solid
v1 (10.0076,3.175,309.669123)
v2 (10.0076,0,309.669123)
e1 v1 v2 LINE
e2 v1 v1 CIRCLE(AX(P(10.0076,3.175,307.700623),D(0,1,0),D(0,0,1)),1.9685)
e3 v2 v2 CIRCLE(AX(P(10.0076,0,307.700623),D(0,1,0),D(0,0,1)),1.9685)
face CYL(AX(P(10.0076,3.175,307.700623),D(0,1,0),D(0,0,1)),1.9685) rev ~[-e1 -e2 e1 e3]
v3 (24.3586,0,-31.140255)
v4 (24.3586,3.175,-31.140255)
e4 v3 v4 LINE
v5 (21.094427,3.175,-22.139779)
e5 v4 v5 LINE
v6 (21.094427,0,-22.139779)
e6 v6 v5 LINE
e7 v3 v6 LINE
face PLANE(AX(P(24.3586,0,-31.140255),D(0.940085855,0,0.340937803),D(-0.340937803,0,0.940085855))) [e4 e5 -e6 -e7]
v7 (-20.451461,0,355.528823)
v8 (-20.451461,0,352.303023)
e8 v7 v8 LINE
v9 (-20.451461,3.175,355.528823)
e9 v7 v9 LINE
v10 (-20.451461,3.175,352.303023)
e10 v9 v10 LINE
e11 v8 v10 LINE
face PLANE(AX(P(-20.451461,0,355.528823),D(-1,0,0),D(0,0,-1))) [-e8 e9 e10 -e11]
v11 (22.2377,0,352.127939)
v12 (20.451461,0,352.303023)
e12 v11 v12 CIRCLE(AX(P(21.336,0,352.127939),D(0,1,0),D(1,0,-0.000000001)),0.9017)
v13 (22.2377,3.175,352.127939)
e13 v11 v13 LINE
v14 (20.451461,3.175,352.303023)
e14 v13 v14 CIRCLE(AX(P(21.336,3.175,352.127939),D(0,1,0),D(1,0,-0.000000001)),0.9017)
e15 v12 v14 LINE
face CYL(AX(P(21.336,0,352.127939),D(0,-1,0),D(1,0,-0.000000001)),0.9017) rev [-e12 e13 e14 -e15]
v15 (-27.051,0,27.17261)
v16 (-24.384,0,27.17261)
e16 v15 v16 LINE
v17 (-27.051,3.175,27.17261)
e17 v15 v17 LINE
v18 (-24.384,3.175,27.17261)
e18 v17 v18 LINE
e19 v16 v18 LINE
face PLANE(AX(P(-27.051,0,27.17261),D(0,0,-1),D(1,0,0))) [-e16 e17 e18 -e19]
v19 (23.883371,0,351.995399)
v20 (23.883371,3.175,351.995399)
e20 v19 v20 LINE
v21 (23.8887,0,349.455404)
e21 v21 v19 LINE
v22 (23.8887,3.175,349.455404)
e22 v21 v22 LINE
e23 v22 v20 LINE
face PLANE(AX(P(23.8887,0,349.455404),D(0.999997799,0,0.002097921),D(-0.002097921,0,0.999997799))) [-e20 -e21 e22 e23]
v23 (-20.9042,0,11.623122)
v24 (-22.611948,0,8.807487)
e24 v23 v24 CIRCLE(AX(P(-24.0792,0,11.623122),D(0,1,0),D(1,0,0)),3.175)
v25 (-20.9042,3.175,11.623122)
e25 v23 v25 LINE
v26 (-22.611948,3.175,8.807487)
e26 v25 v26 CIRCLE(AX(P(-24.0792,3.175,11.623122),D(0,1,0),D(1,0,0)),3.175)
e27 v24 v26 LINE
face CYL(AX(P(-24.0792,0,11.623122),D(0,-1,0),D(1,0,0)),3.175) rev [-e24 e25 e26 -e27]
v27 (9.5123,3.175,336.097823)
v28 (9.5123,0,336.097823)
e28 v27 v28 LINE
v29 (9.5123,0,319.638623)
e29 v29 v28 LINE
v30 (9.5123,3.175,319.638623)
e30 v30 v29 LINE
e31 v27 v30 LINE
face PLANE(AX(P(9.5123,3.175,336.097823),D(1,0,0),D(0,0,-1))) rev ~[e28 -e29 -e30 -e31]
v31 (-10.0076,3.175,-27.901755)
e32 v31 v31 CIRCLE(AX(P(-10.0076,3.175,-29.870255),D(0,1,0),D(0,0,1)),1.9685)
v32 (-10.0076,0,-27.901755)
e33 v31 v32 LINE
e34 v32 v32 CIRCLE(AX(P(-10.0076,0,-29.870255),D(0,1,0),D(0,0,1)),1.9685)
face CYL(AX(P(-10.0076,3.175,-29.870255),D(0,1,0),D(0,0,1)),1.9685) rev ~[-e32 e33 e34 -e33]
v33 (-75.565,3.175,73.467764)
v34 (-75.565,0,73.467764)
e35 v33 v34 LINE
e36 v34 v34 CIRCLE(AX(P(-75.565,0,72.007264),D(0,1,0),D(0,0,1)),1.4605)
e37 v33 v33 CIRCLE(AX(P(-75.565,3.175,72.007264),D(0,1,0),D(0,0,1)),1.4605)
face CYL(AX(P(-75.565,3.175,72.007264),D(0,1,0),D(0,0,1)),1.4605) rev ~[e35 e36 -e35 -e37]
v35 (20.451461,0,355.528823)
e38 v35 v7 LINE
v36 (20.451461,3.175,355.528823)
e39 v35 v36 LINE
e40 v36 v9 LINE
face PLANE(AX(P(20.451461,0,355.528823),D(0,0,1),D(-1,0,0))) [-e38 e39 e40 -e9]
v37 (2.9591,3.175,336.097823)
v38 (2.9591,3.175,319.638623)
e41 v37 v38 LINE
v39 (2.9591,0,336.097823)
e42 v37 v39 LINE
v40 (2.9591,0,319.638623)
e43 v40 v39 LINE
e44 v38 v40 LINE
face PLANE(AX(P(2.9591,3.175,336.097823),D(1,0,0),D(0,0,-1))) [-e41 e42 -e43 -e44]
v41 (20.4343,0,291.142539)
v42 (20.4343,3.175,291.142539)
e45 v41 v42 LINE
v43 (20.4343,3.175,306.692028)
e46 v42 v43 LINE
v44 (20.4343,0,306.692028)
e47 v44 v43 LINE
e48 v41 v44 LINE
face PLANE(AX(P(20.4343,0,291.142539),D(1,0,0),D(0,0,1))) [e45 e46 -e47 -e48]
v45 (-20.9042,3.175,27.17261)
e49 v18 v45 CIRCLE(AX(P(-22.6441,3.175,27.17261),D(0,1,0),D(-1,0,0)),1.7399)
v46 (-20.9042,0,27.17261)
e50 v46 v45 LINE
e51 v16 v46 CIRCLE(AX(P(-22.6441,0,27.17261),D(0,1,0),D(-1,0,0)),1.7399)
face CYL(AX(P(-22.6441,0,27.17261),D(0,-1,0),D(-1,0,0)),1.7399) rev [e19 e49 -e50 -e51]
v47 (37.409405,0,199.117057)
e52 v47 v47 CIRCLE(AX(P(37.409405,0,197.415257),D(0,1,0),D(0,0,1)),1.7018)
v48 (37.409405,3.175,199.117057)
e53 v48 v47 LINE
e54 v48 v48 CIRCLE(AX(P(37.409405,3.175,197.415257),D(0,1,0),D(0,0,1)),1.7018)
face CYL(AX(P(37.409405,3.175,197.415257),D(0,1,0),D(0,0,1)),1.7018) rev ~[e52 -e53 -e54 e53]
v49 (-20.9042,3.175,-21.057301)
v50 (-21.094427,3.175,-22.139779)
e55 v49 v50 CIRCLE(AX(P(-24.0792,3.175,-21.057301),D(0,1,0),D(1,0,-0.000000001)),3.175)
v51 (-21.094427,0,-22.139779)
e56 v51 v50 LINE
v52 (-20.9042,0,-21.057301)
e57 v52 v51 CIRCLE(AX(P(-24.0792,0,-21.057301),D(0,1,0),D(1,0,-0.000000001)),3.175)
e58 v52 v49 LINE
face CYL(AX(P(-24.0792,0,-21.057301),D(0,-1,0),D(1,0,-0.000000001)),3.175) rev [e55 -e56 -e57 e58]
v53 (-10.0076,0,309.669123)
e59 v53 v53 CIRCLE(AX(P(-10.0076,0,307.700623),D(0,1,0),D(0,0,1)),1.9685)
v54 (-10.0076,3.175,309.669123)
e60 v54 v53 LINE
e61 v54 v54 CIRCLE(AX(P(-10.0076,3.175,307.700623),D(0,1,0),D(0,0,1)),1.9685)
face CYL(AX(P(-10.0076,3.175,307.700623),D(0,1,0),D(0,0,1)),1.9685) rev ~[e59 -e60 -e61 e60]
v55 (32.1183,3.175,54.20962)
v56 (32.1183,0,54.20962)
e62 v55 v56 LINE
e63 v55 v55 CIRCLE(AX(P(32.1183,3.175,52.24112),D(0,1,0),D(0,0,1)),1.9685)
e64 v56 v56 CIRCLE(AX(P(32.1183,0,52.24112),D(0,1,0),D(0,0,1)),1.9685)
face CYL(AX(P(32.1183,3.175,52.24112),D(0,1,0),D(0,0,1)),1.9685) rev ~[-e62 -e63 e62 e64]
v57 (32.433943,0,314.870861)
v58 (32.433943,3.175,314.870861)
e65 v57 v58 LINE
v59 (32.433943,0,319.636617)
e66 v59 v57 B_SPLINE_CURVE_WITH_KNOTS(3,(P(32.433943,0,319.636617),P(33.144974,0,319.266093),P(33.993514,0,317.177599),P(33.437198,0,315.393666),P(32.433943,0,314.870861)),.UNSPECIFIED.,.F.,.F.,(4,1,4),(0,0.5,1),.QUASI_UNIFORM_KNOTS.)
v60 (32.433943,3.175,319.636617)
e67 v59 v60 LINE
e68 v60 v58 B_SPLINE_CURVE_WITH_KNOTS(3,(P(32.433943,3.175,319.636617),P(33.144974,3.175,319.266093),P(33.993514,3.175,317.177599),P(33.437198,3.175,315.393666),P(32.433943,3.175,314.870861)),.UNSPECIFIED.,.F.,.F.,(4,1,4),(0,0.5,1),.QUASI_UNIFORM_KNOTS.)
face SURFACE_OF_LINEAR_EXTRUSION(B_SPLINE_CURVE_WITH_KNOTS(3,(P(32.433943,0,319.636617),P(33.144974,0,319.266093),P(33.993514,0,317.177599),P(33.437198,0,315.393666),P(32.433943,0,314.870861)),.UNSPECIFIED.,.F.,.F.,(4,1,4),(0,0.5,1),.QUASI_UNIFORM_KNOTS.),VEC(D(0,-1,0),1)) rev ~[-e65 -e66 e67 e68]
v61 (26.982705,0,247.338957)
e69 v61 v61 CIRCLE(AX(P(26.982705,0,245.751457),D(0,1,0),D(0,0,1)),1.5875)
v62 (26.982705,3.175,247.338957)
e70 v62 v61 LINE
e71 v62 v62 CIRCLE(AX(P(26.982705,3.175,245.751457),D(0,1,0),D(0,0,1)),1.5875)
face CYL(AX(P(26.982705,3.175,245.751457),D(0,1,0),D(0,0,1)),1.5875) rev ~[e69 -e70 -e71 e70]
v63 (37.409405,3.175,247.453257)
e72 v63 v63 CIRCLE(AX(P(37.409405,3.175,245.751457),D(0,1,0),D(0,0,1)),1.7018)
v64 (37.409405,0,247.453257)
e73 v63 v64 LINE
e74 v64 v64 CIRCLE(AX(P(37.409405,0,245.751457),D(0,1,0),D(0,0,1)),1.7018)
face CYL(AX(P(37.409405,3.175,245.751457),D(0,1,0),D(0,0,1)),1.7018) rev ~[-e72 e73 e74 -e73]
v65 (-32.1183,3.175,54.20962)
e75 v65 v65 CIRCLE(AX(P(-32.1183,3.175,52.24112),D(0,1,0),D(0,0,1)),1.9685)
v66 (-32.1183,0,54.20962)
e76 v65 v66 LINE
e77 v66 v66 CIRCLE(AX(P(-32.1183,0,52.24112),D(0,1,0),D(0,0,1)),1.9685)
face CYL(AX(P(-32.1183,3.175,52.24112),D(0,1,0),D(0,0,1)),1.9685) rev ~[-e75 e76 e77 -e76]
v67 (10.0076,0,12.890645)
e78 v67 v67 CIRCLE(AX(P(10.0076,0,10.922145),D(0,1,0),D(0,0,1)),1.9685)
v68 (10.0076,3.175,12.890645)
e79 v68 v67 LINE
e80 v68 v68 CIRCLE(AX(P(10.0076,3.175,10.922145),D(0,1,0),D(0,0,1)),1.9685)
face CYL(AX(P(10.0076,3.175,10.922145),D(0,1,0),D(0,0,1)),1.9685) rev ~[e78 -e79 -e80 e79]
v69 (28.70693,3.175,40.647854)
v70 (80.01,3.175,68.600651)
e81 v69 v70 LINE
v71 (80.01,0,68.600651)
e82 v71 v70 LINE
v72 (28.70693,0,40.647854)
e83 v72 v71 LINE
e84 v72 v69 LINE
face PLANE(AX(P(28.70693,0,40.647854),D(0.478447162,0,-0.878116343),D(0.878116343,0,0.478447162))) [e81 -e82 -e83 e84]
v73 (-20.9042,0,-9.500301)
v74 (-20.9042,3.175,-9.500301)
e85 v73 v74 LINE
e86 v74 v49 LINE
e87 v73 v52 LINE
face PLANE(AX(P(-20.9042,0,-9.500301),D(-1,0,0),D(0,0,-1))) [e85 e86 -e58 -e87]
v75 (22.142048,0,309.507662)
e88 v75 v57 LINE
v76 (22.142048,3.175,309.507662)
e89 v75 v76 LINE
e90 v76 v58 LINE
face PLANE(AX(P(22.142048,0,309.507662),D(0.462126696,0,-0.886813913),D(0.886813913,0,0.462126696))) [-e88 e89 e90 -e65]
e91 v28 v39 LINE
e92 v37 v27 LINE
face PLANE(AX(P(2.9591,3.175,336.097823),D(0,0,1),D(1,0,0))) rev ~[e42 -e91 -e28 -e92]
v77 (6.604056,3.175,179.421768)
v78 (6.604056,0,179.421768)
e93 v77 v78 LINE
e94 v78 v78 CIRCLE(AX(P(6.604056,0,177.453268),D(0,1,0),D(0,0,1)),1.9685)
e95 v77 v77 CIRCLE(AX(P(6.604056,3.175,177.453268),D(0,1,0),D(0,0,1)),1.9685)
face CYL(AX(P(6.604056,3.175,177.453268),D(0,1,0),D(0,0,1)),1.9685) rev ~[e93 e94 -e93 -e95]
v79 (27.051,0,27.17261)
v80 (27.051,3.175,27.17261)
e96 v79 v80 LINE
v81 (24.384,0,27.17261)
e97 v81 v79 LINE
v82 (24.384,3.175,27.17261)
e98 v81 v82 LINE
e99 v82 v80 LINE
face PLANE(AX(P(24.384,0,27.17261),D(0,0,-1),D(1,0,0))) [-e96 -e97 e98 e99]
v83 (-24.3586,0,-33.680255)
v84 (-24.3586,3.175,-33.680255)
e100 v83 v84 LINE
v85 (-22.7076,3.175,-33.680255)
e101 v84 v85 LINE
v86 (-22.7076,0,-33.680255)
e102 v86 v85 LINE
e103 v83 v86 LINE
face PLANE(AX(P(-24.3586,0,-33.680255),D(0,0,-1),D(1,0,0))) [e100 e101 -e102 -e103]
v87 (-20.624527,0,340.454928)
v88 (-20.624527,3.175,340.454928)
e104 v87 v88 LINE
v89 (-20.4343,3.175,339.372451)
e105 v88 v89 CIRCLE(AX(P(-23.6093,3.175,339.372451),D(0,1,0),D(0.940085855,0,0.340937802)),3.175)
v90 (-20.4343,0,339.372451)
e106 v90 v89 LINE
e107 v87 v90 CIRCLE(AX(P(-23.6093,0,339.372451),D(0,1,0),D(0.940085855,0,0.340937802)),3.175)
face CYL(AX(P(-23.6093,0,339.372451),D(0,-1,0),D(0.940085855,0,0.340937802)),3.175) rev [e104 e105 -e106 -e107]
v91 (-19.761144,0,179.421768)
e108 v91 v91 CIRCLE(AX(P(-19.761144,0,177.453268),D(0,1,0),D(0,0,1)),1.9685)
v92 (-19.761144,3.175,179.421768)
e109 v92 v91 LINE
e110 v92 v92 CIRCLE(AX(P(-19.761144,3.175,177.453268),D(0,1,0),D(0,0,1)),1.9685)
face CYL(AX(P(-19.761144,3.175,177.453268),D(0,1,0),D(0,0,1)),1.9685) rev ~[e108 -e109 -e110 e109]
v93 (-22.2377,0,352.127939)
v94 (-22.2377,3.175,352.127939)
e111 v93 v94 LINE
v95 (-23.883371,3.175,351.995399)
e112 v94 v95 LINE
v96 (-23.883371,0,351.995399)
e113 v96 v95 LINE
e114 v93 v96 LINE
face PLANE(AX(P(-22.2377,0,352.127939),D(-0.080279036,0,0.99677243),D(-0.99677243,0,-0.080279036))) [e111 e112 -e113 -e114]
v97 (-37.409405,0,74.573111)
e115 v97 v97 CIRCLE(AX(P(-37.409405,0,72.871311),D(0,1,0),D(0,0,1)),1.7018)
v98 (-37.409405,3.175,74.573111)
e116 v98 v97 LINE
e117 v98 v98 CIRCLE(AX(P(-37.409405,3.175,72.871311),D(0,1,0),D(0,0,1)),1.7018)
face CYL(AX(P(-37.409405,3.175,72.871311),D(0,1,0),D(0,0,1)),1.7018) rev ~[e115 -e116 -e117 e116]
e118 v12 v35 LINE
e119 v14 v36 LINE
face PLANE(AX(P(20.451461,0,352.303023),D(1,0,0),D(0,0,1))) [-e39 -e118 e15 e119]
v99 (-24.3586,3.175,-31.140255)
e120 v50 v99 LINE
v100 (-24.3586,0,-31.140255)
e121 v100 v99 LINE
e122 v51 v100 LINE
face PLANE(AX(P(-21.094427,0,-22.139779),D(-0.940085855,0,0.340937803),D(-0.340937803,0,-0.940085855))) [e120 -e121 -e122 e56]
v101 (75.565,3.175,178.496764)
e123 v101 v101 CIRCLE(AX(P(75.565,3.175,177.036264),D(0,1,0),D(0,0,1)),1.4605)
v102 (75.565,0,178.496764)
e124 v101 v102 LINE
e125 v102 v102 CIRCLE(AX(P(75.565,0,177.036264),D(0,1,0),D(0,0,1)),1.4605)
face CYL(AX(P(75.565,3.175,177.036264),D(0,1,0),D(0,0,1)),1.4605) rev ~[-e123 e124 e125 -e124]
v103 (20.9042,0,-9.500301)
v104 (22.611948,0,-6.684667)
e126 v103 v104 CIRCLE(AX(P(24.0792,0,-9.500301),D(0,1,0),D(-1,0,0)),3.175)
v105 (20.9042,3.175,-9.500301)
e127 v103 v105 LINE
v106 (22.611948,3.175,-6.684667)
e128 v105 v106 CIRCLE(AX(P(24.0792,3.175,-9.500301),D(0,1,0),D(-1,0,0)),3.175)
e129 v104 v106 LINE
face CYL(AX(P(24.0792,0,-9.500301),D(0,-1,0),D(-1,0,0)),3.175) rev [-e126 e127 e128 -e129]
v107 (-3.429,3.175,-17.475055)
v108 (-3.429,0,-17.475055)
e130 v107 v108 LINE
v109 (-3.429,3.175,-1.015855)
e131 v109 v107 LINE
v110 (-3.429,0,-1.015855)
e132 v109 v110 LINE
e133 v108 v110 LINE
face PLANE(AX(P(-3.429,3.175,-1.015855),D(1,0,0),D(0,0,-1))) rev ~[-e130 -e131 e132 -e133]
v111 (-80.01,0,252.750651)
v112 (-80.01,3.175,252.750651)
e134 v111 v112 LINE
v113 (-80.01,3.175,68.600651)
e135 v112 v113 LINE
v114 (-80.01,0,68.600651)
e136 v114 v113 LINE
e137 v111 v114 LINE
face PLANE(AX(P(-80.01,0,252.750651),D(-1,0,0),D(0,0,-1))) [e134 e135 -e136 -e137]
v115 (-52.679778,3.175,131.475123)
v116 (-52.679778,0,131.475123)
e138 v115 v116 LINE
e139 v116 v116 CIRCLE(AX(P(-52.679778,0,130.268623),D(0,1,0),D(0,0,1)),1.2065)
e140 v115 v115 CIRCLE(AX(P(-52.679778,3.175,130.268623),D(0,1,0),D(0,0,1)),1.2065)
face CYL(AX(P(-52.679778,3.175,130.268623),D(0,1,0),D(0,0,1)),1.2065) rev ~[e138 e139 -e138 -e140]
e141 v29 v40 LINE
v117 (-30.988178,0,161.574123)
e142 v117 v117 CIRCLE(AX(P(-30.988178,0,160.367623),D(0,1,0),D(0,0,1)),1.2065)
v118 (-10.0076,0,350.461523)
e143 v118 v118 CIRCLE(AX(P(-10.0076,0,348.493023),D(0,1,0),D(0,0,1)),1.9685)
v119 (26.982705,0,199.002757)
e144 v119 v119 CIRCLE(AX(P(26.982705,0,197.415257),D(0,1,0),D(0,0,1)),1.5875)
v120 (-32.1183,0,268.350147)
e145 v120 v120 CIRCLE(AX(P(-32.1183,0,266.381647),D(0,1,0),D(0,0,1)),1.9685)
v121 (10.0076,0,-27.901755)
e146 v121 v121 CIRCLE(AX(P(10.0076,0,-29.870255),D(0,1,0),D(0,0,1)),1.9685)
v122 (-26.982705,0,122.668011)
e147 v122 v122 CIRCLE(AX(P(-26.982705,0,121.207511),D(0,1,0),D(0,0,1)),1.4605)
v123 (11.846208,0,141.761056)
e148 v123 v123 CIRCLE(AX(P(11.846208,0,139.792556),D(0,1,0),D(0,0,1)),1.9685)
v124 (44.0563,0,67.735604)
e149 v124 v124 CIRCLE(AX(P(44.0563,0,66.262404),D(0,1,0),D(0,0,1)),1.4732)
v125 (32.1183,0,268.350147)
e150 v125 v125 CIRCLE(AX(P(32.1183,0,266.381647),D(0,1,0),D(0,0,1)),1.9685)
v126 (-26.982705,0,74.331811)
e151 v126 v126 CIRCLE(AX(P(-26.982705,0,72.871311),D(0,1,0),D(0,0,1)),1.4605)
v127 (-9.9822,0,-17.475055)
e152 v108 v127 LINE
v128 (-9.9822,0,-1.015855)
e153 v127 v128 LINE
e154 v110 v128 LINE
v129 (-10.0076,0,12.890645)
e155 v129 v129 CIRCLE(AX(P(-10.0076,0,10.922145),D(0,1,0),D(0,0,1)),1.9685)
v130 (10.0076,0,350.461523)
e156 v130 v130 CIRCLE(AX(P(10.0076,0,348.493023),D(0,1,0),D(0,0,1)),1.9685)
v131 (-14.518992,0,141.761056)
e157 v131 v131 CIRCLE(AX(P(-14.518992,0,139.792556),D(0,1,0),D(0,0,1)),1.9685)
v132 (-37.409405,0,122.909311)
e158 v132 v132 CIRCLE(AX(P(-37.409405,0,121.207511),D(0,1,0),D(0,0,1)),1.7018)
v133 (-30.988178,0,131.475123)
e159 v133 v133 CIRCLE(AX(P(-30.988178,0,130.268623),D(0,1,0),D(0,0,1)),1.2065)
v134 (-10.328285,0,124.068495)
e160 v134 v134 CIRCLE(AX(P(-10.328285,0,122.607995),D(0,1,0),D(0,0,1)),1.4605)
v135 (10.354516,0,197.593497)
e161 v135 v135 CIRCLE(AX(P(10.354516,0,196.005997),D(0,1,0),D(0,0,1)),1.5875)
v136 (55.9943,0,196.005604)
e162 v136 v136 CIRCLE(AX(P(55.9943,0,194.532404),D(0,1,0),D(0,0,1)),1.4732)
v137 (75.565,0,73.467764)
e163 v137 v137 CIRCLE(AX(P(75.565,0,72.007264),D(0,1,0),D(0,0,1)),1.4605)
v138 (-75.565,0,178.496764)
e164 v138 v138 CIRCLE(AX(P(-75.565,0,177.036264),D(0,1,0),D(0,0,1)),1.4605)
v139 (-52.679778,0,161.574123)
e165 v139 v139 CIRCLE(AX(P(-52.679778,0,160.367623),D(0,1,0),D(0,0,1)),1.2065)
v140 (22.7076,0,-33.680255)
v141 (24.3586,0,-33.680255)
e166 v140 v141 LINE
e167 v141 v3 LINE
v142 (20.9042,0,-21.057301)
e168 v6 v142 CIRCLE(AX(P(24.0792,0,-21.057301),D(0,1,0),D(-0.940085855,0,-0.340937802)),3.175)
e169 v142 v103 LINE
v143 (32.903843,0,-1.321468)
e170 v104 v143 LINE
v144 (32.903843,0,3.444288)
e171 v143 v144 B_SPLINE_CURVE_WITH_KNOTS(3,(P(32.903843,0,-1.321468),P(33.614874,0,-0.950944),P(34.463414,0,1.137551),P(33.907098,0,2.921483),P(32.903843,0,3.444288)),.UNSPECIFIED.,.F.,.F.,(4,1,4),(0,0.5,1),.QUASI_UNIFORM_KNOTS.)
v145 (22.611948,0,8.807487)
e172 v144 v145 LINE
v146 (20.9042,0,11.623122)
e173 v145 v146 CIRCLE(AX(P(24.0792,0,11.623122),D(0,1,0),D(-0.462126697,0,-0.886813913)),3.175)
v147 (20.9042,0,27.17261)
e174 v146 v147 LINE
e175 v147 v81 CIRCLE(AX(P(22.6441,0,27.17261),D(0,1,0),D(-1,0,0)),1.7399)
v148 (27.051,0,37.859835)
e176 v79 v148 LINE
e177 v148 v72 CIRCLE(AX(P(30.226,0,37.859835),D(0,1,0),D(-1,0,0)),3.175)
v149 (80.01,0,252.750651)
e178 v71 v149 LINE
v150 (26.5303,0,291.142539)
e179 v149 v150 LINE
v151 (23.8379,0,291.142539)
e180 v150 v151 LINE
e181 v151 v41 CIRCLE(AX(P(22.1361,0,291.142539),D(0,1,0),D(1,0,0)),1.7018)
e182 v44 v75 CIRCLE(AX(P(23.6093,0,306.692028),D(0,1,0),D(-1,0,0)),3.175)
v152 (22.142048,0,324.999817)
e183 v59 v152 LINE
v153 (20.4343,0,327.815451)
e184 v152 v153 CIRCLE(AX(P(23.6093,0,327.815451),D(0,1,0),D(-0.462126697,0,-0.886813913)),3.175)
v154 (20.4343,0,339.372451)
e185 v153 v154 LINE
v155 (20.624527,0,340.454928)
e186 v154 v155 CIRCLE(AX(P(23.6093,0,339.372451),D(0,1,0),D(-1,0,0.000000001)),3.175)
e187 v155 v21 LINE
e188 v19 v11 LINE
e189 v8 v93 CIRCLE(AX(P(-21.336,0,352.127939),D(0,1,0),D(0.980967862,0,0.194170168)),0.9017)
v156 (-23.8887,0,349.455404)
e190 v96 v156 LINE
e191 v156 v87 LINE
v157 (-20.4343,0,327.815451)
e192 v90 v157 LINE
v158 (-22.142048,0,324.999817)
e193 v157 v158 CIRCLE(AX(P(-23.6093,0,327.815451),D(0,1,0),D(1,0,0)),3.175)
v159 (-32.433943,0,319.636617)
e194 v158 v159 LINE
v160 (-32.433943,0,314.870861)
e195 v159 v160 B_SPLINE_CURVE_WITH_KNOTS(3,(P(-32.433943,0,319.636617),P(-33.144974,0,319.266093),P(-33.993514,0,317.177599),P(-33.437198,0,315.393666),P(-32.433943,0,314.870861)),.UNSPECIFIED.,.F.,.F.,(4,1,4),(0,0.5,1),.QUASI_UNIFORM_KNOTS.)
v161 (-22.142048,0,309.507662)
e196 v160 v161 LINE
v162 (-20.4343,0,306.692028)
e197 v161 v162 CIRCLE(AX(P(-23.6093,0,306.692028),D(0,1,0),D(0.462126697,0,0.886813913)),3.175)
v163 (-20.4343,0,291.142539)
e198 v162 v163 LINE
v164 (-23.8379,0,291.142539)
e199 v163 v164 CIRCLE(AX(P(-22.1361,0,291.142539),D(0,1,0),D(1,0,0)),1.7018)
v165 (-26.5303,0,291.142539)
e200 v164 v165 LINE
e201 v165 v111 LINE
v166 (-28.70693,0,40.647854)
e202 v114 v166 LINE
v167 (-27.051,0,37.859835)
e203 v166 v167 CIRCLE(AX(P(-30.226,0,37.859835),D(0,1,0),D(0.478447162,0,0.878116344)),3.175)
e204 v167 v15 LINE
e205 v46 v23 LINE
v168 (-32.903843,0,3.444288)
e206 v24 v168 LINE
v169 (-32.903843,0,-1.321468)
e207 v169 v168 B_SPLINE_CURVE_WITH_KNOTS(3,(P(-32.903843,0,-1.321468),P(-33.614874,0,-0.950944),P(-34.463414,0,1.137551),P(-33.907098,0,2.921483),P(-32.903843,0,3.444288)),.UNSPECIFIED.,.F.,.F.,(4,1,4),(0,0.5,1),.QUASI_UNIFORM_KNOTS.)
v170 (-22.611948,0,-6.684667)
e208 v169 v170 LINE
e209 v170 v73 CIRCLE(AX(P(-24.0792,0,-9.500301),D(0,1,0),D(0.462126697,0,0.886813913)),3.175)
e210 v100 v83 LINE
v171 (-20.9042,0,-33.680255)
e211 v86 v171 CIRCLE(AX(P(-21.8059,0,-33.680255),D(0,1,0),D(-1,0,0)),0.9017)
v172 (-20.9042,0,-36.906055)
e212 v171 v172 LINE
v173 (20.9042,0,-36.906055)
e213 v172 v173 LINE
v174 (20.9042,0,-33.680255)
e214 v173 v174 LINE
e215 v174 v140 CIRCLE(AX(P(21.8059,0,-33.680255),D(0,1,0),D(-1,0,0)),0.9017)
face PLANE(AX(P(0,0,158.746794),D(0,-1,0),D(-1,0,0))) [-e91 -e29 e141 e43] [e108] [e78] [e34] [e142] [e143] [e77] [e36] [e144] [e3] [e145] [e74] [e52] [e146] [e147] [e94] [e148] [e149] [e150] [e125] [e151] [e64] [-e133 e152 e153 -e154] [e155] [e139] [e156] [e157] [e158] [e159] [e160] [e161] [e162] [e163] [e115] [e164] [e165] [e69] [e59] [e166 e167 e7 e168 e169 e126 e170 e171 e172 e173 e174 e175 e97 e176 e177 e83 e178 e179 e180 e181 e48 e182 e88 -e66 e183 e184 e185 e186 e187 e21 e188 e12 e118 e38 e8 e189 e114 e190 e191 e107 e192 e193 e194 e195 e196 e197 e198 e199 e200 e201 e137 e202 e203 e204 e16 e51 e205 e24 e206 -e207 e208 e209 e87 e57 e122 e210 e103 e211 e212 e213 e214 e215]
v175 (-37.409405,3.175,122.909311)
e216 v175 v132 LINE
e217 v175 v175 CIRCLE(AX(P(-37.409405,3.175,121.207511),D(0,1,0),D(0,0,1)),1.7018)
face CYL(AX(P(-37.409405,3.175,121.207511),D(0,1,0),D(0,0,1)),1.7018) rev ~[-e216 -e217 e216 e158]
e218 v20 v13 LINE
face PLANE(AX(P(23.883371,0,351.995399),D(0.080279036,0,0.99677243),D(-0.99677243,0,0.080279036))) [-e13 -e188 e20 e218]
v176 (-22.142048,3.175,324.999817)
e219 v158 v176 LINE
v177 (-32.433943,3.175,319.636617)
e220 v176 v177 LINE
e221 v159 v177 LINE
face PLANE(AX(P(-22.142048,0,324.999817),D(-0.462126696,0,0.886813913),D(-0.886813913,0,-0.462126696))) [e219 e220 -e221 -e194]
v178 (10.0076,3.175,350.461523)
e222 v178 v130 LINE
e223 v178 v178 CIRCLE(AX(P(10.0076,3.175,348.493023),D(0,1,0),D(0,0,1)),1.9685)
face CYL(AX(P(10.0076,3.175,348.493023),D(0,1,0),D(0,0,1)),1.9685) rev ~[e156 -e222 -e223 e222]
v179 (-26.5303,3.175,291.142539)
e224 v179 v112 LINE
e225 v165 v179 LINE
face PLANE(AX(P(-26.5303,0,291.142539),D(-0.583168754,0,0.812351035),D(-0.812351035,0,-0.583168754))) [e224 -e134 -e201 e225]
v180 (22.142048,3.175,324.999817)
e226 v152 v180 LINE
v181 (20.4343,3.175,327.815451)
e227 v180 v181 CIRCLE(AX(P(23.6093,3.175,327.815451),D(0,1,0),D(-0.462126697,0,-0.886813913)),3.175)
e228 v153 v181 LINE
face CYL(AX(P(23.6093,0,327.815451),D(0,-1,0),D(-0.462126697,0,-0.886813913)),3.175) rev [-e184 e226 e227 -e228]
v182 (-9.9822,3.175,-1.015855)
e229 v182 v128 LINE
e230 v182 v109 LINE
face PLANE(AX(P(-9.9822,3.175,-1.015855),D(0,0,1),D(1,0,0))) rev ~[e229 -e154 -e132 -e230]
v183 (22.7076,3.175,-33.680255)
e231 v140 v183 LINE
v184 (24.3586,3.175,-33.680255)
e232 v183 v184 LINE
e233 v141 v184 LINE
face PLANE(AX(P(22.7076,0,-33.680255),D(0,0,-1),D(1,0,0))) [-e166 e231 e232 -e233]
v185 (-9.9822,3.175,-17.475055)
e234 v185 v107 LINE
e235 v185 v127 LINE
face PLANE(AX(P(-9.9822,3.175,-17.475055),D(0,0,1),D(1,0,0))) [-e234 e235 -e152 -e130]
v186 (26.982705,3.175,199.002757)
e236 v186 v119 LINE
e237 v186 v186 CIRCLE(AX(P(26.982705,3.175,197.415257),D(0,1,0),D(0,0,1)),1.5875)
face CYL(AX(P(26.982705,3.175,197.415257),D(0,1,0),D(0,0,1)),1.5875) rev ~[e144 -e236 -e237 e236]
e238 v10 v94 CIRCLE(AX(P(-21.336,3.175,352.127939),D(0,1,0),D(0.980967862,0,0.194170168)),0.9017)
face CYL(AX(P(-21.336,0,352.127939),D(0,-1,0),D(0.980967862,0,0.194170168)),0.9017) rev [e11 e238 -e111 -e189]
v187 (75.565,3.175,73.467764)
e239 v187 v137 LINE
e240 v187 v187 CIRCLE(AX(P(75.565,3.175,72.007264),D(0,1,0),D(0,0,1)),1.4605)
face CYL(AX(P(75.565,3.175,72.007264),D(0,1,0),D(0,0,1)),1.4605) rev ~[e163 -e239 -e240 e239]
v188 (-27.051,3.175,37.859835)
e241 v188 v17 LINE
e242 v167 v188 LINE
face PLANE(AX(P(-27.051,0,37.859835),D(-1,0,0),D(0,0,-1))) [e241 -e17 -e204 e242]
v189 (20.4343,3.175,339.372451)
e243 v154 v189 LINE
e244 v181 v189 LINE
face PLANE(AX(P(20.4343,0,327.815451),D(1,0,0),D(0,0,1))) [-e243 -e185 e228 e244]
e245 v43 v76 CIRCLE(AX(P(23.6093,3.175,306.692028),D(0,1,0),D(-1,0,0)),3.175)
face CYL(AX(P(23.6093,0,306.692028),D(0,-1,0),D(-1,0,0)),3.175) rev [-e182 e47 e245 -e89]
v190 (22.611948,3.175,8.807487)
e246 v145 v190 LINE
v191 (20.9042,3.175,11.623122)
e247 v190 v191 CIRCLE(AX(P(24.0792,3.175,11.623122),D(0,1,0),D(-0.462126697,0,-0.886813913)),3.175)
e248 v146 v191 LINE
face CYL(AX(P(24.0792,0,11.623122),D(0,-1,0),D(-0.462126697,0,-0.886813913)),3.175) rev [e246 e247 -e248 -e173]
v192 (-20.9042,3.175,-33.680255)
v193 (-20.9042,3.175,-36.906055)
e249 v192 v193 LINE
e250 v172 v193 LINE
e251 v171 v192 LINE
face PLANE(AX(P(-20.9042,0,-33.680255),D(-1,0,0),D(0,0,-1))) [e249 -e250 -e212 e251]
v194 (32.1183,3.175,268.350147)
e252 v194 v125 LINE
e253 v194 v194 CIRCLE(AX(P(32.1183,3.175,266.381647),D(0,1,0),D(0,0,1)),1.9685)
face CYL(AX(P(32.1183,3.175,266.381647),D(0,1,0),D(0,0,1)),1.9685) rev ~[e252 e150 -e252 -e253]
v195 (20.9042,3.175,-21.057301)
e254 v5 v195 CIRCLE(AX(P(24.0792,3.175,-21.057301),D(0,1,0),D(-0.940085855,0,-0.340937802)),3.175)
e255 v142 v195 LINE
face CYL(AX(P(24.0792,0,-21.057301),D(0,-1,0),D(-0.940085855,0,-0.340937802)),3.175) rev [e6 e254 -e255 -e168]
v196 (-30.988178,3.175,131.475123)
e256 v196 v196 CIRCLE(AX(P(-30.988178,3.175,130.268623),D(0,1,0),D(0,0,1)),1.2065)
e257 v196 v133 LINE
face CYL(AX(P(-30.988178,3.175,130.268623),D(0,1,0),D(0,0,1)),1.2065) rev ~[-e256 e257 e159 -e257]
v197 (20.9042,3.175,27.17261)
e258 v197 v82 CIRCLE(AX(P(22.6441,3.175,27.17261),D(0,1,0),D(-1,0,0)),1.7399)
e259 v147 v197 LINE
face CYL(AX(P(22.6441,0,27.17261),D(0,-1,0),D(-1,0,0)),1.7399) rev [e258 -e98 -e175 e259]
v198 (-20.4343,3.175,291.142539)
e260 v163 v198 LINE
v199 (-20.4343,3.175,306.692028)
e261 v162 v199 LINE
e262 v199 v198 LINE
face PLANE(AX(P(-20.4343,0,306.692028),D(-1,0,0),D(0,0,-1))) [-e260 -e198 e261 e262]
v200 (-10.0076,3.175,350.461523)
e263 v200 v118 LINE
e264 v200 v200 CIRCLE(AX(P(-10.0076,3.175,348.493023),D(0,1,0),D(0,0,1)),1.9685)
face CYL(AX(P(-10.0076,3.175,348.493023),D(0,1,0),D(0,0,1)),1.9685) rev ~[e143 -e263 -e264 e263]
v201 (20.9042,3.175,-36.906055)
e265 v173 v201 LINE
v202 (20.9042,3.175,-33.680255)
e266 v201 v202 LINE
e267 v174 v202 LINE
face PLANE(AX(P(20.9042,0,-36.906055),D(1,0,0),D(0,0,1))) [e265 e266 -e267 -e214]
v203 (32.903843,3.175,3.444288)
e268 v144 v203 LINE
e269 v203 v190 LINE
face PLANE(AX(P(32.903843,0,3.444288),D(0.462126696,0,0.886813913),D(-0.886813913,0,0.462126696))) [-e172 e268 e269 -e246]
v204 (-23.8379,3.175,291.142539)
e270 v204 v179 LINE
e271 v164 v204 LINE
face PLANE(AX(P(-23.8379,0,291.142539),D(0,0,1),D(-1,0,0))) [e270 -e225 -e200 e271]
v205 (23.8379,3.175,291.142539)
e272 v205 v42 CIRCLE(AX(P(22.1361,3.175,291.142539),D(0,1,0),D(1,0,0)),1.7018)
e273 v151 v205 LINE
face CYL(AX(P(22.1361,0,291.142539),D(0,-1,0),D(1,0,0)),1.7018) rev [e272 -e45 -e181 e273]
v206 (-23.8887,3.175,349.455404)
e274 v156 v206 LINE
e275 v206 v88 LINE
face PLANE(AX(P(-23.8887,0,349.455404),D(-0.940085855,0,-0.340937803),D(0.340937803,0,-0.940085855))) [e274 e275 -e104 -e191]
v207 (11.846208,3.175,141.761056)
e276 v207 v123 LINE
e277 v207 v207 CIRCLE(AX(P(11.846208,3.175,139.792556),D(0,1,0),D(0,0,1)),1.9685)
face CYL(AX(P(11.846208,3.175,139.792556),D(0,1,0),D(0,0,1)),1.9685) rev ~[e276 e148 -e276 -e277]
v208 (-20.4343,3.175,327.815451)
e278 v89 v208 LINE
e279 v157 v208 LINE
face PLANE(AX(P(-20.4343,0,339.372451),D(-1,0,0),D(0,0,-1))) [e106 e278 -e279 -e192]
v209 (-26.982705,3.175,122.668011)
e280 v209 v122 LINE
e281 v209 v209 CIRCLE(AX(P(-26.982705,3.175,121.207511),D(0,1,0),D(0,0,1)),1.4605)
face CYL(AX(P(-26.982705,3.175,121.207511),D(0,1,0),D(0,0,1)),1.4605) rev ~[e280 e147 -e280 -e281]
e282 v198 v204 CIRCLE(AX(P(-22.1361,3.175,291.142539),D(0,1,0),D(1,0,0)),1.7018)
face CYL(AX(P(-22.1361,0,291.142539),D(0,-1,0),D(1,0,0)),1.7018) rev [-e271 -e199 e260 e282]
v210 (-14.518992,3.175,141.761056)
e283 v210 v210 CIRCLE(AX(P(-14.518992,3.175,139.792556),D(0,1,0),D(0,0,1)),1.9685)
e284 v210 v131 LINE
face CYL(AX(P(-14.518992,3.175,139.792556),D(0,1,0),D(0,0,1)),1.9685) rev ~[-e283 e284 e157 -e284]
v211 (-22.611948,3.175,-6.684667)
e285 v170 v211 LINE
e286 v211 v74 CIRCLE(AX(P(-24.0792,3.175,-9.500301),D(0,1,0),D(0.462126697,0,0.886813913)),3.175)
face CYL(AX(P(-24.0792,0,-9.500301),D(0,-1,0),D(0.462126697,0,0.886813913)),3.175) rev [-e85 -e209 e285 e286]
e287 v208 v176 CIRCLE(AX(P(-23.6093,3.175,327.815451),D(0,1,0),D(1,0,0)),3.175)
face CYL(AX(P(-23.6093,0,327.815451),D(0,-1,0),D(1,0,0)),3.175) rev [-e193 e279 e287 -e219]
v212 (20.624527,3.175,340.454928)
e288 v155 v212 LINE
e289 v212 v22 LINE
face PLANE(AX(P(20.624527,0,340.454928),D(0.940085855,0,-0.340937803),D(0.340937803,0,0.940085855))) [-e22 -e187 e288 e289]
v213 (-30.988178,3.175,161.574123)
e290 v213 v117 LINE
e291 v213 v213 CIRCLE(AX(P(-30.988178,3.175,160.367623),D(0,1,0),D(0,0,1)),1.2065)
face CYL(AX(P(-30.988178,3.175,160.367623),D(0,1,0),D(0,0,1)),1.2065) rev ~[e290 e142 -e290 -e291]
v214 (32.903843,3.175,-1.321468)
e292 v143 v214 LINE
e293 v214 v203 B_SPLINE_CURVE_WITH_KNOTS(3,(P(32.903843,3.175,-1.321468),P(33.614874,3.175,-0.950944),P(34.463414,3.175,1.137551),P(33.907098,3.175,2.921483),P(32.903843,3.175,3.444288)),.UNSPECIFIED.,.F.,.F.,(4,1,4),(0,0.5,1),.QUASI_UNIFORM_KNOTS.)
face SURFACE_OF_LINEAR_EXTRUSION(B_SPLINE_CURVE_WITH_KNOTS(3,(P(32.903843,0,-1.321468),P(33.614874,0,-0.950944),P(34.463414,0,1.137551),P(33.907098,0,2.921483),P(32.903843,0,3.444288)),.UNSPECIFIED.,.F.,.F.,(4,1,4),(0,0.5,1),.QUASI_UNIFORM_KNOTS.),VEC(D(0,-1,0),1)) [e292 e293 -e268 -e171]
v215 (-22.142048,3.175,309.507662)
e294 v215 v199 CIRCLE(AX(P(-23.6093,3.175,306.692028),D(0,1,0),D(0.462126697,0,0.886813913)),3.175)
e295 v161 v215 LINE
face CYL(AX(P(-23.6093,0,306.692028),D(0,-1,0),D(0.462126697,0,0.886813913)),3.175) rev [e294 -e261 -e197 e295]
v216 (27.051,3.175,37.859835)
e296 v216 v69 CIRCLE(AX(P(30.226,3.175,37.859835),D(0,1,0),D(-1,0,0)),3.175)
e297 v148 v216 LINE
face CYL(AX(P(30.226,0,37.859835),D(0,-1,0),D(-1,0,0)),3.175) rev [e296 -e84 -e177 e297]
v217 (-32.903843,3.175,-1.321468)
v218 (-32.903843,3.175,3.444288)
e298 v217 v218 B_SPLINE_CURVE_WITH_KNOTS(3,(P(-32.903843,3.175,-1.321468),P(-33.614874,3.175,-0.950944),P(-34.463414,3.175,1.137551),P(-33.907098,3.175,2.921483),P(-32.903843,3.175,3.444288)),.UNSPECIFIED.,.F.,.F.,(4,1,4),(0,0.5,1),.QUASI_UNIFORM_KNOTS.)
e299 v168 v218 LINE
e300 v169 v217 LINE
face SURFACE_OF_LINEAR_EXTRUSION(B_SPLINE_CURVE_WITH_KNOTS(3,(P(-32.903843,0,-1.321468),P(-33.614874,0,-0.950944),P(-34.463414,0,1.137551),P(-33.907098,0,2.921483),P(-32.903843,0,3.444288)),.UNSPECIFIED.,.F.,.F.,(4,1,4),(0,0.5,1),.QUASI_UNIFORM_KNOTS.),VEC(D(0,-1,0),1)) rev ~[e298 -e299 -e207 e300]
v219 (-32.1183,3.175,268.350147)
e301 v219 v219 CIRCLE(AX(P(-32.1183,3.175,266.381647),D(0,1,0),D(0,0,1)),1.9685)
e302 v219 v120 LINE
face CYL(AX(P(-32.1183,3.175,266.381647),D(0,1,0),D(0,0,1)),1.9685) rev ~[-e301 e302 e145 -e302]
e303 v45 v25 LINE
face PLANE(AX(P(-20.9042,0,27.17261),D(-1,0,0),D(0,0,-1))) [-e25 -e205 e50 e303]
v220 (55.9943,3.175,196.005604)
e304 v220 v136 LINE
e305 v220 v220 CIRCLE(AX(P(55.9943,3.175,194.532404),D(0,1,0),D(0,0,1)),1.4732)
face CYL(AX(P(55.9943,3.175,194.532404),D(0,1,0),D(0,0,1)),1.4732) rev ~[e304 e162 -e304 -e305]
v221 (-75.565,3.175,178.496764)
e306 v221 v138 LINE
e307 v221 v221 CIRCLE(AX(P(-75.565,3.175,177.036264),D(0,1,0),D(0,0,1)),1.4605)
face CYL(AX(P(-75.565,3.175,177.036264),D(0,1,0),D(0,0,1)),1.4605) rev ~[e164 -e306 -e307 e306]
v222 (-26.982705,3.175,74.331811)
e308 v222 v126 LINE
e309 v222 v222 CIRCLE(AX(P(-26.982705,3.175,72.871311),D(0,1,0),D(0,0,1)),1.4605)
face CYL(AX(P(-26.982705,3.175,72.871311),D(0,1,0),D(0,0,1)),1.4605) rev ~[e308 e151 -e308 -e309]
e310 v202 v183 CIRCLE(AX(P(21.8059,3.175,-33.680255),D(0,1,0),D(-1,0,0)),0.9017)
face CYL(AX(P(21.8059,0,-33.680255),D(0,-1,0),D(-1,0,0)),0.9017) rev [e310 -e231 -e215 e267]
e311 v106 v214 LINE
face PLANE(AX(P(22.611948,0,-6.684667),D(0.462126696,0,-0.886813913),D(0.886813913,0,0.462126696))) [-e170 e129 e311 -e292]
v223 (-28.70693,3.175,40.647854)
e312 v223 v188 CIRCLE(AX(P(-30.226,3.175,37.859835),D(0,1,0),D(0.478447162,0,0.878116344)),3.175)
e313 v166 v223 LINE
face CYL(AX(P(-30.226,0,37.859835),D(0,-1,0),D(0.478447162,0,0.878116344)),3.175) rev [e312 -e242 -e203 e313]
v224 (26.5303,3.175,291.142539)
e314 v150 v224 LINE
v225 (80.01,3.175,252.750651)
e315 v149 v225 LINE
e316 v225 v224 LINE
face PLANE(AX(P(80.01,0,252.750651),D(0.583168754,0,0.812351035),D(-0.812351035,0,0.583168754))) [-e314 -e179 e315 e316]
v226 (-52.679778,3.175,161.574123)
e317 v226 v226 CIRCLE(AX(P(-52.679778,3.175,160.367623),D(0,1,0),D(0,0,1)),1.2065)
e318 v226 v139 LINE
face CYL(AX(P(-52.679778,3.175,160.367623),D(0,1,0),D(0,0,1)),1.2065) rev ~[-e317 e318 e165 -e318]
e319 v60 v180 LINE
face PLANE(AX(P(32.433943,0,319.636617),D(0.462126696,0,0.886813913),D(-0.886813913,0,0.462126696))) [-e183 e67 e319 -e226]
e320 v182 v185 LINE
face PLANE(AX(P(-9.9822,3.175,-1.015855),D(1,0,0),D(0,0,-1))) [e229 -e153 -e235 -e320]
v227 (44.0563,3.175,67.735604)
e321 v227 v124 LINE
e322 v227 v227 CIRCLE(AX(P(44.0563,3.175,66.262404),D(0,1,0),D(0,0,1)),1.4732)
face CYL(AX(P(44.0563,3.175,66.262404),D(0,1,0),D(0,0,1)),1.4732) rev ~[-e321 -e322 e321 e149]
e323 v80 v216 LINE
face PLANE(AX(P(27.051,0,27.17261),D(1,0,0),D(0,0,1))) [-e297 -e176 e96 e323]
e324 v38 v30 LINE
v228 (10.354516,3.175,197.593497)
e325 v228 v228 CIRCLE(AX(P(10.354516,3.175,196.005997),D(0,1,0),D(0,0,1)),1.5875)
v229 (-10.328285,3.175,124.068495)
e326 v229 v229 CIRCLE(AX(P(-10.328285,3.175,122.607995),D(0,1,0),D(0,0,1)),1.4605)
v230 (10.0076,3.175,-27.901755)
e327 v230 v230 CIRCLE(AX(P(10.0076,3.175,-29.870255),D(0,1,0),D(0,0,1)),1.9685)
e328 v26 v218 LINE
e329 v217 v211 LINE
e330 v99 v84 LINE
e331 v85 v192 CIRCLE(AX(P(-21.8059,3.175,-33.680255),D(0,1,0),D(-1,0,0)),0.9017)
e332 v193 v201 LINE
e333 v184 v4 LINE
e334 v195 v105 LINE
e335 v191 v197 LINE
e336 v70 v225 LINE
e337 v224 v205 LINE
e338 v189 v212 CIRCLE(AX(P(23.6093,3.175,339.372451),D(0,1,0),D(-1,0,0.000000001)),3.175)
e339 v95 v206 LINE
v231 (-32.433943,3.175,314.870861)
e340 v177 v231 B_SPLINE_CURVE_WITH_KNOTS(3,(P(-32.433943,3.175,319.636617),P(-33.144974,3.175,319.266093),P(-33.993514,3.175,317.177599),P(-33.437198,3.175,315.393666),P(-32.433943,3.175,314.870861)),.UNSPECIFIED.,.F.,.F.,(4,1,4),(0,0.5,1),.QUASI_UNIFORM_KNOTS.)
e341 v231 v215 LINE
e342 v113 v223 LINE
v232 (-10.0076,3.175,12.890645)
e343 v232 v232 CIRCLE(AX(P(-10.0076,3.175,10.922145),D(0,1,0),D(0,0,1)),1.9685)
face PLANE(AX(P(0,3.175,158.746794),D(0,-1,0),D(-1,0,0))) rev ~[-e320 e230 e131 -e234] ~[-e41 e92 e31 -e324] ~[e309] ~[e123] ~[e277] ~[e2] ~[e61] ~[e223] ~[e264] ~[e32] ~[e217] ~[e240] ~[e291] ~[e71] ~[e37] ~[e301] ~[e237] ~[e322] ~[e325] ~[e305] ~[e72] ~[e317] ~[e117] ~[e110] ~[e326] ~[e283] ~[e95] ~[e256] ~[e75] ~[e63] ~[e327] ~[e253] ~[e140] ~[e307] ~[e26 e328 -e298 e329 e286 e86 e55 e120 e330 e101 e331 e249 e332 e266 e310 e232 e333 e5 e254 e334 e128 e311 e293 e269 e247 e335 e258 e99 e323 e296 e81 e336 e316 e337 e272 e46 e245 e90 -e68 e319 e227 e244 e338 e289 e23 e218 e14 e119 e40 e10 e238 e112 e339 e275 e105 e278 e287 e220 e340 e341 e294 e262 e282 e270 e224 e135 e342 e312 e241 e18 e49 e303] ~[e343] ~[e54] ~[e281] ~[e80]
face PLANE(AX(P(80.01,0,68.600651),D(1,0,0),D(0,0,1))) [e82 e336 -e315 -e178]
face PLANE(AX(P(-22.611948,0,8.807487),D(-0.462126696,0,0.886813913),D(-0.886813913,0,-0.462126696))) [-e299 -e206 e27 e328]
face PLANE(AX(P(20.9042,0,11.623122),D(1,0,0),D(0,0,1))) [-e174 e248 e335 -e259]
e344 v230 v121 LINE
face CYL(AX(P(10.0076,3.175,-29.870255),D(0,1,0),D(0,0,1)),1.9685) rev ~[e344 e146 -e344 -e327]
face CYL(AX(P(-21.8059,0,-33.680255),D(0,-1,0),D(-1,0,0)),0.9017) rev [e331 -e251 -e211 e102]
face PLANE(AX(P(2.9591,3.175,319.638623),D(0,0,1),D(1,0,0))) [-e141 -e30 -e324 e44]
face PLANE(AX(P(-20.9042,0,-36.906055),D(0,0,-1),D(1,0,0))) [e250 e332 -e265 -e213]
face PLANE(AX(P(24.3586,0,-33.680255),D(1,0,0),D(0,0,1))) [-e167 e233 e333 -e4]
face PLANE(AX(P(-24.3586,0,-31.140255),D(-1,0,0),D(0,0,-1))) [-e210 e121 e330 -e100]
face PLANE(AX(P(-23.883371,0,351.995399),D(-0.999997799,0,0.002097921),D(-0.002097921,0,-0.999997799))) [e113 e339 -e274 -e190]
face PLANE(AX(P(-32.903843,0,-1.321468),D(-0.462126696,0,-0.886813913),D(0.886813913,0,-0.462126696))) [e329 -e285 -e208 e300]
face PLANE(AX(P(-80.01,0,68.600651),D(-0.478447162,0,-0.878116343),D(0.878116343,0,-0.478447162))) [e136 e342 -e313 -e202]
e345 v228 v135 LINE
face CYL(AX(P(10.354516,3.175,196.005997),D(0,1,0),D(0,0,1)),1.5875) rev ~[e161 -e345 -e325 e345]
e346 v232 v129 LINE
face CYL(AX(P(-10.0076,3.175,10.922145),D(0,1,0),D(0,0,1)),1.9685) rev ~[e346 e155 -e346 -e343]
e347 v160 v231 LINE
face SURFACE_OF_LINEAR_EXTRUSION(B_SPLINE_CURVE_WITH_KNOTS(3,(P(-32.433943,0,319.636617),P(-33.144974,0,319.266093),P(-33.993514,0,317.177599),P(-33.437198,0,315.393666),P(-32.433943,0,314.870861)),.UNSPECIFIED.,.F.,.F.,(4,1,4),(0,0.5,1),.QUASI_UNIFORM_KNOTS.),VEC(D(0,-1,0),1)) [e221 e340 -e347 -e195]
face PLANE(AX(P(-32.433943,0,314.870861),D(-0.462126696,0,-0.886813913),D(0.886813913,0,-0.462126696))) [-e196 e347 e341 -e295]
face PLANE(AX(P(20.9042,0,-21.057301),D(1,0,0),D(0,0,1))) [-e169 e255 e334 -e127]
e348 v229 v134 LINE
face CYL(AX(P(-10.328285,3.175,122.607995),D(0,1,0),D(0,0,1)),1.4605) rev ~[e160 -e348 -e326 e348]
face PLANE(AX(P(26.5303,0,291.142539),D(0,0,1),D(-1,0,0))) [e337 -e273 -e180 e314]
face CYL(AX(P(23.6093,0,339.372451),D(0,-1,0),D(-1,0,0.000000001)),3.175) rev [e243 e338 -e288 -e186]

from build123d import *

# Parameters (mm, degrees)
BOSS_EXTRUDE1_DEPTH = 3.175
SKETCH3_R           = 1.9685
SKETCH3_R_2         = 1.7018
SKETCH3_R_3         = 1.4605
SKETCH3_R_4         = 1.5875
SKETCH3_R_5         = 1.4732
SKETCH3_R_6         = 1.2065
SKETCH3_W           = 6.5532
SKETCH3_H           = 16.4592
CUT_EXTRUDE1_DEPTH  = 365.434389894


with BuildPart() as part:
    # Sketch1 → Boss-Extrude1 (new body)
    with BuildSketch(Plane(origin=(0, 0, 0), x_dir=(1, 0, 0), z_dir=(0, 1, 0))):
        with BuildLine():
            Line((20.9042, 21.057301381), (20.9042, 9.500301381))
            ThreePointArc((20.9042, 9.500301381), (21.364503799, 7.853774874), (22.611947739, 6.684667206))
            Line((22.611947739, 6.684667206), (32.903843319, 1.321467969))
            add(Edge.make_bspline(
                [(32.903843319, 1.321467969), (33.614873553, 0.950943726), (34.463414094, -1.137550566), (33.907098259, -2.92148302), (32.903843319, -3.444288181)],
                knots=[0, 0, 0, 0, 0.5, 1, 1, 1, 1], degree=3))
            Line((32.903843319, -3.444288181), (22.611947739, -8.807487419))
            ThreePointArc((22.611947739, -8.807487419), (21.364503799, -9.976595087), (20.9042, -11.623121593))
            Line((20.9042, -11.623121593), (20.9042, -27.172610106))
            ThreePointArc((20.9042, -27.172610106), (22.6441, -28.912510106), (24.384, -27.172610106))
            Line((24.384, -27.172610106), (27.051, -27.172610106))
            Line((27.051, -27.172610106), (27.051, -37.859834638))
            ThreePointArc((27.051, -37.859834638), (27.496194931, -39.48118879), (28.706930259, -40.647854028))
            Line((28.706930259, -40.647854028), (80.01, -68.600651316))
            Line((80.01, -68.600651316), (80.01, -252.750651316))
            Line((80.01, -252.750651316), (26.5303, -291.142539353))
            Line((26.5303, -291.142539353), (23.8379, -291.142539353))
            ThreePointArc((23.8379, -291.142539353), (22.1361, -289.440739353), (20.4343, -291.142539353))
            Line((20.4343, -291.142539353), (20.4343, -306.692027866))
            ThreePointArc((20.4343, -306.692027866), (20.894603799, -308.338554372), (22.142047739, -309.50766204))
            Line((22.142047739, -309.50766204), (32.433943319, -314.870861278))
            add(Edge.make_bspline(
                [(32.433943319, -319.63661747), (33.144973553, -319.266093228), (33.993514113, -317.177598915), (33.437198259, -315.393666439), (32.433943319, -314.870861278)],
                knots=[0, 0, 0, 0, 0.5, 1, 1, 1, 1], degree=3))
            Line((32.433943319, -319.63661747), (22.142047738, -324.999816708))
            ThreePointArc((22.142047738, -324.999816708), (20.894603798, -326.168924376), (20.434299999, -327.815450882))
            Line((20.434299999, -327.815450882), (20.434299999, -339.372450882))
            ThreePointArc((20.434299999, -339.372450882), (20.482218455, -339.921983425), (20.62452741, -340.454928408))
            Line((20.62452741, -340.454928408), (23.888699999, -349.455404296))
            Line((23.888699999, -349.455404296), (23.88337128, -351.995398706))
            Line((23.88337128, -351.995398706), (22.237699999, -352.127939395))
            ThreePointArc((22.237699999, -352.127939395), (21.248038856, -351.230539971), (20.451461278, -352.303022636))
            Line((20.451461278, -352.303022636), (20.451461278, -355.528822636))
            Line((20.451461278, -355.528822636), (-20.451461278, -355.528822636))
            Line((-20.451461278, -355.528822636), (-20.451461278, -352.303022636))
            ThreePointArc((-20.451461278, -352.303022636), (-21.248038856, -351.230539971), (-22.237699999, -352.127939395))
            Line((-22.237699999, -352.127939395), (-23.88337128, -351.995398706))
            Line((-23.88337128, -351.995398706), (-23.888699999, -349.455404296))
            Line((-23.888699999, -349.455404296), (-20.62452741, -340.454928408))
            ThreePointArc((-20.62452741, -340.454928408), (-20.482218455, -339.921983425), (-20.434299999, -339.372450882))
            Line((-20.434299999, -339.372450882), (-20.434299999, -327.815450882))
            ThreePointArc((-20.434299999, -327.815450882), (-20.894603798, -326.168924376), (-22.142047738, -324.999816708))
            Line((-22.142047738, -324.999816708), (-32.433943319, -319.63661747))
            add(Edge.make_bspline(
                [(-32.433943319, -319.63661747), (-33.144973553, -319.266093228), (-33.993514113, -317.177598915), (-33.437198259, -315.393666439), (-32.433943319, -314.870861278)],
                knots=[0, 0, 0, 0, 0.5, 1, 1, 1, 1], degree=3))
            Line((-32.433943319, -314.870861278), (-22.142047739, -309.50766204))
            ThreePointArc((-22.142047739, -309.50766204), (-20.894603799, -308.338554372), (-20.4343, -306.692027866))
            Line((-20.4343, -306.692027866), (-20.4343, -291.142539353))
            ThreePointArc((-20.4343, -291.142539353), (-22.1361, -289.440739353), (-23.8379, -291.142539353))
            Line((-23.8379, -291.142539353), (-26.5303, -291.142539353))
            Line((-26.5303, -291.142539353), (-80.01, -252.750651316))
            Line((-80.01, -252.750651316), (-80.01, -68.600651316))
            Line((-80.01, -68.600651316), (-28.706930259, -40.647854028))
            ThreePointArc((-28.706930259, -40.647854028), (-27.496194931, -39.48118879), (-27.051, -37.859834638))
            Line((-27.051, -37.859834638), (-27.051, -27.172610106))
            Line((-27.051, -27.172610106), (-24.384, -27.172610106))
            ThreePointArc((-24.384, -27.172610106), (-22.6441, -28.912510106), (-20.9042, -27.172610106))
            Line((-20.9042, -27.172610106), (-20.9042, -11.623121593))
            ThreePointArc((-20.9042, -11.623121593), (-21.364503799, -9.976595087), (-22.611947739, -8.807487419))
            Line((-22.611947739, -8.807487419), (-32.903843319, -3.444288181))
            add(Edge.make_bspline(
                [(-32.903843319, 1.321467969), (-33.614873553, 0.950943726), (-34.463414094, -1.137550566), (-33.907098259, -2.92148302), (-32.903843319, -3.444288181)],
                knots=[0, 0, 0, 0, 0.5, 1, 1, 1, 1], degree=3))
            Line((-32.903843319, 1.321467969), (-22.611947739, 6.684667206))
            ThreePointArc((-22.611947739, 6.684667206), (-21.364503799, 7.853774874), (-20.9042, 9.500301381))
            Line((-20.9042, 9.500301381), (-20.9042, 21.057301381))
            ThreePointArc((-20.9042, 21.057301381), (-20.952118456, 21.606833923), (-21.094427411, 22.139778906))
            Line((-21.094427411, 22.139778906), (-24.3586, 31.140254794))
            Line((-24.3586, 31.140254794), (-24.3586, 33.680254794))
            Line((-24.3586, 33.680254794), (-22.7076, 33.680254794))
            ThreePointArc((-22.7076, 33.680254794), (-21.8059, 32.778554794), (-20.9042, 33.680254794))
            Line((-20.9042, 33.680254794), (-20.9042, 36.906054794))
            Line((-20.9042, 36.906054794), (20.9042, 36.906054794))
            Line((20.9042, 36.906054794), (20.9042, 33.680254794))
            ThreePointArc((20.9042, 33.680254794), (21.8059, 32.778554794), (22.7076, 33.680254794))
            Line((22.7076, 33.680254794), (24.3586, 33.680254794))
            Line((24.3586, 33.680254794), (24.3586, 31.140254794))
            Line((24.3586, 31.140254794), (21.094427411, 22.139778906))
            ThreePointArc((21.094427411, 22.139778906), (20.952118456, 21.606833923), (20.9042, 21.057301381))
        make_face()
    extrude(amount=BOSS_EXTRUDE1_DEPTH)

    # Sketch3 → Cut-Extrude1 (cut, through all)
    with BuildSketch(Plane(origin=(0, 3.175, 0), x_dir=(1, 0, 0), z_dir=(0, 1, 0))):
        with Locations(Location((-10.0076, 29.870254794, 0), (0, 0, 270))):
            Circle(SKETCH3_R)
        with Locations(Location((10.0076, 29.870254794, 0), (0, 0, 270))):
            Circle(SKETCH3_R)
        with Locations(Location((-10.0076, -10.922145206, 0), (0, 0, 270))):
            Circle(SKETCH3_R)
        with Locations(Location((10.0076, -10.922145206, 0), (0, 0, 270))):
            Circle(SKETCH3_R)
        with Locations(Location((-32.1183, -52.241120441, 0), (0, 0, 270))):
            Circle(SKETCH3_R)
        with Locations(Location((32.1183, -52.241120441, 0), (0, 0, 270))):
            Circle(SKETCH3_R)
        with Locations(Location((-10.0076, -348.493022636, 0), (0, 0, 270))):
            Circle(SKETCH3_R)
        with Locations(Location((10.0076, -348.493022636, 0), (0, 0, 270))):
            Circle(SKETCH3_R)
        with Locations(Location((10.0076, -307.700622636, 0), (0, 0, 270))):
            Circle(SKETCH3_R)
        with Locations(Location((-10.0076, -307.700622636, 0), (0, 0, 270))):
            Circle(SKETCH3_R)
        with Locations(Location((-32.1183, -266.3816474, 0), (0, 0, 270))):
            Circle(SKETCH3_R)
        with Locations(Location((32.1183, -266.3816474, 0), (0, 0, 270))):
            Circle(SKETCH3_R)
        with Locations(Location((-37.409404629, -72.871310848, 0), (0, 0, 270))):
            Circle(SKETCH3_R_2)
        with Locations(Location((-26.982704629, -72.871310848, 0), (0, 0, 270))):
            Circle(SKETCH3_R_3)
        with Locations(Location((-26.982704629, -121.207510848, 0), (0, 0, 270))):
            Circle(SKETCH3_R_3)
        with Locations(Location((-37.409404629, -121.207510848, 0), (0, 0, 270))):
            Circle(SKETCH3_R_2)
        with Locations(Location((37.409404629, -245.751456994, 0), (0, 0, 270))):
            Circle(SKETCH3_R_2)
        with Locations(Location((26.982704629, -245.751456994, 0), (0, 0, 270))):
            Circle(SKETCH3_R_4)
        with Locations(Location((37.409404629, -197.415256994, 0), (0, 0, 270))):
            Circle(SKETCH3_R_2)
        with Locations(Location((26.982704629, -197.415256994, 0), (0, 0, 270))):
            Circle(SKETCH3_R_4)
        with Locations(Location((-10.328284802, -122.607994505, 0), (0, 0, 270))):
            Circle(SKETCH3_R_3)
        with Locations(Location((10.35451602, -196.005997456, 0), (0, 0, 270))):
            Circle(SKETCH3_R_4)
        with Locations(Location((-14.518992261, -139.79255604, 0), (0, 0, 270))):
            Circle(SKETCH3_R)
        with Locations(Location((11.846207739, -139.79255604, 0), (0, 0, 270))):
            Circle(SKETCH3_R)
        with Locations(Location((6.60405639, -177.453267872, 0), (0, 0, 270))):
            Circle(SKETCH3_R)
        with Locations(Location((-19.76114361, -177.453267872, 0), (0, 0, 270))):
            Circle(SKETCH3_R)
        with Locations(Location((75.565, -72.007264101, 0), (0, 0, 270))):
            Circle(SKETCH3_R_3)
        with Locations(Location((-75.565, -72.007264101, 0), (0, 0, 270))):
            Circle(SKETCH3_R_3)
        with Locations(Location((-75.565, -177.036264101, 0), (0, 0, 270))):
            Circle(SKETCH3_R_3)
        with Locations(Location((75.565, -177.036264101, 0), (0, 0, 270))):
            Circle(SKETCH3_R_3)
        with Locations(Location((44.0563, -66.262403585, 0), (0, 0, 270))):
            Circle(SKETCH3_R_5)
        with Locations(Location((55.9943, -194.532403585, 0), (0, 0, 270))):
            Circle(SKETCH3_R_5)
        with Locations(Location((-52.679777995, -130.268623082, 0), (0, 0, 270))):
            Circle(SKETCH3_R_6)
        with Locations(Location((-30.988177995, -130.268623082, 0), (0, 0, 270))):
            Circle(SKETCH3_R_6)
        with Locations(Location((-52.679777995, -160.367623082, 0), (0, 0, 270))):
            Circle(SKETCH3_R_6)
        with Locations(Location((-30.988177995, -160.367623082, 0), (0, 0, 270))):
            Circle(SKETCH3_R_6)
        with Locations((-6.7056, 9.245454794)):
            Rectangle(SKETCH3_W, SKETCH3_H)
        with Locations((6.235699999, -327.868222636)):
            Rectangle(SKETCH3_W, SKETCH3_H)
    extrude(amount=-CUT_EXTRUDE1_DEPTH, mode=Mode.SUBTRACT)


solid = part.part
